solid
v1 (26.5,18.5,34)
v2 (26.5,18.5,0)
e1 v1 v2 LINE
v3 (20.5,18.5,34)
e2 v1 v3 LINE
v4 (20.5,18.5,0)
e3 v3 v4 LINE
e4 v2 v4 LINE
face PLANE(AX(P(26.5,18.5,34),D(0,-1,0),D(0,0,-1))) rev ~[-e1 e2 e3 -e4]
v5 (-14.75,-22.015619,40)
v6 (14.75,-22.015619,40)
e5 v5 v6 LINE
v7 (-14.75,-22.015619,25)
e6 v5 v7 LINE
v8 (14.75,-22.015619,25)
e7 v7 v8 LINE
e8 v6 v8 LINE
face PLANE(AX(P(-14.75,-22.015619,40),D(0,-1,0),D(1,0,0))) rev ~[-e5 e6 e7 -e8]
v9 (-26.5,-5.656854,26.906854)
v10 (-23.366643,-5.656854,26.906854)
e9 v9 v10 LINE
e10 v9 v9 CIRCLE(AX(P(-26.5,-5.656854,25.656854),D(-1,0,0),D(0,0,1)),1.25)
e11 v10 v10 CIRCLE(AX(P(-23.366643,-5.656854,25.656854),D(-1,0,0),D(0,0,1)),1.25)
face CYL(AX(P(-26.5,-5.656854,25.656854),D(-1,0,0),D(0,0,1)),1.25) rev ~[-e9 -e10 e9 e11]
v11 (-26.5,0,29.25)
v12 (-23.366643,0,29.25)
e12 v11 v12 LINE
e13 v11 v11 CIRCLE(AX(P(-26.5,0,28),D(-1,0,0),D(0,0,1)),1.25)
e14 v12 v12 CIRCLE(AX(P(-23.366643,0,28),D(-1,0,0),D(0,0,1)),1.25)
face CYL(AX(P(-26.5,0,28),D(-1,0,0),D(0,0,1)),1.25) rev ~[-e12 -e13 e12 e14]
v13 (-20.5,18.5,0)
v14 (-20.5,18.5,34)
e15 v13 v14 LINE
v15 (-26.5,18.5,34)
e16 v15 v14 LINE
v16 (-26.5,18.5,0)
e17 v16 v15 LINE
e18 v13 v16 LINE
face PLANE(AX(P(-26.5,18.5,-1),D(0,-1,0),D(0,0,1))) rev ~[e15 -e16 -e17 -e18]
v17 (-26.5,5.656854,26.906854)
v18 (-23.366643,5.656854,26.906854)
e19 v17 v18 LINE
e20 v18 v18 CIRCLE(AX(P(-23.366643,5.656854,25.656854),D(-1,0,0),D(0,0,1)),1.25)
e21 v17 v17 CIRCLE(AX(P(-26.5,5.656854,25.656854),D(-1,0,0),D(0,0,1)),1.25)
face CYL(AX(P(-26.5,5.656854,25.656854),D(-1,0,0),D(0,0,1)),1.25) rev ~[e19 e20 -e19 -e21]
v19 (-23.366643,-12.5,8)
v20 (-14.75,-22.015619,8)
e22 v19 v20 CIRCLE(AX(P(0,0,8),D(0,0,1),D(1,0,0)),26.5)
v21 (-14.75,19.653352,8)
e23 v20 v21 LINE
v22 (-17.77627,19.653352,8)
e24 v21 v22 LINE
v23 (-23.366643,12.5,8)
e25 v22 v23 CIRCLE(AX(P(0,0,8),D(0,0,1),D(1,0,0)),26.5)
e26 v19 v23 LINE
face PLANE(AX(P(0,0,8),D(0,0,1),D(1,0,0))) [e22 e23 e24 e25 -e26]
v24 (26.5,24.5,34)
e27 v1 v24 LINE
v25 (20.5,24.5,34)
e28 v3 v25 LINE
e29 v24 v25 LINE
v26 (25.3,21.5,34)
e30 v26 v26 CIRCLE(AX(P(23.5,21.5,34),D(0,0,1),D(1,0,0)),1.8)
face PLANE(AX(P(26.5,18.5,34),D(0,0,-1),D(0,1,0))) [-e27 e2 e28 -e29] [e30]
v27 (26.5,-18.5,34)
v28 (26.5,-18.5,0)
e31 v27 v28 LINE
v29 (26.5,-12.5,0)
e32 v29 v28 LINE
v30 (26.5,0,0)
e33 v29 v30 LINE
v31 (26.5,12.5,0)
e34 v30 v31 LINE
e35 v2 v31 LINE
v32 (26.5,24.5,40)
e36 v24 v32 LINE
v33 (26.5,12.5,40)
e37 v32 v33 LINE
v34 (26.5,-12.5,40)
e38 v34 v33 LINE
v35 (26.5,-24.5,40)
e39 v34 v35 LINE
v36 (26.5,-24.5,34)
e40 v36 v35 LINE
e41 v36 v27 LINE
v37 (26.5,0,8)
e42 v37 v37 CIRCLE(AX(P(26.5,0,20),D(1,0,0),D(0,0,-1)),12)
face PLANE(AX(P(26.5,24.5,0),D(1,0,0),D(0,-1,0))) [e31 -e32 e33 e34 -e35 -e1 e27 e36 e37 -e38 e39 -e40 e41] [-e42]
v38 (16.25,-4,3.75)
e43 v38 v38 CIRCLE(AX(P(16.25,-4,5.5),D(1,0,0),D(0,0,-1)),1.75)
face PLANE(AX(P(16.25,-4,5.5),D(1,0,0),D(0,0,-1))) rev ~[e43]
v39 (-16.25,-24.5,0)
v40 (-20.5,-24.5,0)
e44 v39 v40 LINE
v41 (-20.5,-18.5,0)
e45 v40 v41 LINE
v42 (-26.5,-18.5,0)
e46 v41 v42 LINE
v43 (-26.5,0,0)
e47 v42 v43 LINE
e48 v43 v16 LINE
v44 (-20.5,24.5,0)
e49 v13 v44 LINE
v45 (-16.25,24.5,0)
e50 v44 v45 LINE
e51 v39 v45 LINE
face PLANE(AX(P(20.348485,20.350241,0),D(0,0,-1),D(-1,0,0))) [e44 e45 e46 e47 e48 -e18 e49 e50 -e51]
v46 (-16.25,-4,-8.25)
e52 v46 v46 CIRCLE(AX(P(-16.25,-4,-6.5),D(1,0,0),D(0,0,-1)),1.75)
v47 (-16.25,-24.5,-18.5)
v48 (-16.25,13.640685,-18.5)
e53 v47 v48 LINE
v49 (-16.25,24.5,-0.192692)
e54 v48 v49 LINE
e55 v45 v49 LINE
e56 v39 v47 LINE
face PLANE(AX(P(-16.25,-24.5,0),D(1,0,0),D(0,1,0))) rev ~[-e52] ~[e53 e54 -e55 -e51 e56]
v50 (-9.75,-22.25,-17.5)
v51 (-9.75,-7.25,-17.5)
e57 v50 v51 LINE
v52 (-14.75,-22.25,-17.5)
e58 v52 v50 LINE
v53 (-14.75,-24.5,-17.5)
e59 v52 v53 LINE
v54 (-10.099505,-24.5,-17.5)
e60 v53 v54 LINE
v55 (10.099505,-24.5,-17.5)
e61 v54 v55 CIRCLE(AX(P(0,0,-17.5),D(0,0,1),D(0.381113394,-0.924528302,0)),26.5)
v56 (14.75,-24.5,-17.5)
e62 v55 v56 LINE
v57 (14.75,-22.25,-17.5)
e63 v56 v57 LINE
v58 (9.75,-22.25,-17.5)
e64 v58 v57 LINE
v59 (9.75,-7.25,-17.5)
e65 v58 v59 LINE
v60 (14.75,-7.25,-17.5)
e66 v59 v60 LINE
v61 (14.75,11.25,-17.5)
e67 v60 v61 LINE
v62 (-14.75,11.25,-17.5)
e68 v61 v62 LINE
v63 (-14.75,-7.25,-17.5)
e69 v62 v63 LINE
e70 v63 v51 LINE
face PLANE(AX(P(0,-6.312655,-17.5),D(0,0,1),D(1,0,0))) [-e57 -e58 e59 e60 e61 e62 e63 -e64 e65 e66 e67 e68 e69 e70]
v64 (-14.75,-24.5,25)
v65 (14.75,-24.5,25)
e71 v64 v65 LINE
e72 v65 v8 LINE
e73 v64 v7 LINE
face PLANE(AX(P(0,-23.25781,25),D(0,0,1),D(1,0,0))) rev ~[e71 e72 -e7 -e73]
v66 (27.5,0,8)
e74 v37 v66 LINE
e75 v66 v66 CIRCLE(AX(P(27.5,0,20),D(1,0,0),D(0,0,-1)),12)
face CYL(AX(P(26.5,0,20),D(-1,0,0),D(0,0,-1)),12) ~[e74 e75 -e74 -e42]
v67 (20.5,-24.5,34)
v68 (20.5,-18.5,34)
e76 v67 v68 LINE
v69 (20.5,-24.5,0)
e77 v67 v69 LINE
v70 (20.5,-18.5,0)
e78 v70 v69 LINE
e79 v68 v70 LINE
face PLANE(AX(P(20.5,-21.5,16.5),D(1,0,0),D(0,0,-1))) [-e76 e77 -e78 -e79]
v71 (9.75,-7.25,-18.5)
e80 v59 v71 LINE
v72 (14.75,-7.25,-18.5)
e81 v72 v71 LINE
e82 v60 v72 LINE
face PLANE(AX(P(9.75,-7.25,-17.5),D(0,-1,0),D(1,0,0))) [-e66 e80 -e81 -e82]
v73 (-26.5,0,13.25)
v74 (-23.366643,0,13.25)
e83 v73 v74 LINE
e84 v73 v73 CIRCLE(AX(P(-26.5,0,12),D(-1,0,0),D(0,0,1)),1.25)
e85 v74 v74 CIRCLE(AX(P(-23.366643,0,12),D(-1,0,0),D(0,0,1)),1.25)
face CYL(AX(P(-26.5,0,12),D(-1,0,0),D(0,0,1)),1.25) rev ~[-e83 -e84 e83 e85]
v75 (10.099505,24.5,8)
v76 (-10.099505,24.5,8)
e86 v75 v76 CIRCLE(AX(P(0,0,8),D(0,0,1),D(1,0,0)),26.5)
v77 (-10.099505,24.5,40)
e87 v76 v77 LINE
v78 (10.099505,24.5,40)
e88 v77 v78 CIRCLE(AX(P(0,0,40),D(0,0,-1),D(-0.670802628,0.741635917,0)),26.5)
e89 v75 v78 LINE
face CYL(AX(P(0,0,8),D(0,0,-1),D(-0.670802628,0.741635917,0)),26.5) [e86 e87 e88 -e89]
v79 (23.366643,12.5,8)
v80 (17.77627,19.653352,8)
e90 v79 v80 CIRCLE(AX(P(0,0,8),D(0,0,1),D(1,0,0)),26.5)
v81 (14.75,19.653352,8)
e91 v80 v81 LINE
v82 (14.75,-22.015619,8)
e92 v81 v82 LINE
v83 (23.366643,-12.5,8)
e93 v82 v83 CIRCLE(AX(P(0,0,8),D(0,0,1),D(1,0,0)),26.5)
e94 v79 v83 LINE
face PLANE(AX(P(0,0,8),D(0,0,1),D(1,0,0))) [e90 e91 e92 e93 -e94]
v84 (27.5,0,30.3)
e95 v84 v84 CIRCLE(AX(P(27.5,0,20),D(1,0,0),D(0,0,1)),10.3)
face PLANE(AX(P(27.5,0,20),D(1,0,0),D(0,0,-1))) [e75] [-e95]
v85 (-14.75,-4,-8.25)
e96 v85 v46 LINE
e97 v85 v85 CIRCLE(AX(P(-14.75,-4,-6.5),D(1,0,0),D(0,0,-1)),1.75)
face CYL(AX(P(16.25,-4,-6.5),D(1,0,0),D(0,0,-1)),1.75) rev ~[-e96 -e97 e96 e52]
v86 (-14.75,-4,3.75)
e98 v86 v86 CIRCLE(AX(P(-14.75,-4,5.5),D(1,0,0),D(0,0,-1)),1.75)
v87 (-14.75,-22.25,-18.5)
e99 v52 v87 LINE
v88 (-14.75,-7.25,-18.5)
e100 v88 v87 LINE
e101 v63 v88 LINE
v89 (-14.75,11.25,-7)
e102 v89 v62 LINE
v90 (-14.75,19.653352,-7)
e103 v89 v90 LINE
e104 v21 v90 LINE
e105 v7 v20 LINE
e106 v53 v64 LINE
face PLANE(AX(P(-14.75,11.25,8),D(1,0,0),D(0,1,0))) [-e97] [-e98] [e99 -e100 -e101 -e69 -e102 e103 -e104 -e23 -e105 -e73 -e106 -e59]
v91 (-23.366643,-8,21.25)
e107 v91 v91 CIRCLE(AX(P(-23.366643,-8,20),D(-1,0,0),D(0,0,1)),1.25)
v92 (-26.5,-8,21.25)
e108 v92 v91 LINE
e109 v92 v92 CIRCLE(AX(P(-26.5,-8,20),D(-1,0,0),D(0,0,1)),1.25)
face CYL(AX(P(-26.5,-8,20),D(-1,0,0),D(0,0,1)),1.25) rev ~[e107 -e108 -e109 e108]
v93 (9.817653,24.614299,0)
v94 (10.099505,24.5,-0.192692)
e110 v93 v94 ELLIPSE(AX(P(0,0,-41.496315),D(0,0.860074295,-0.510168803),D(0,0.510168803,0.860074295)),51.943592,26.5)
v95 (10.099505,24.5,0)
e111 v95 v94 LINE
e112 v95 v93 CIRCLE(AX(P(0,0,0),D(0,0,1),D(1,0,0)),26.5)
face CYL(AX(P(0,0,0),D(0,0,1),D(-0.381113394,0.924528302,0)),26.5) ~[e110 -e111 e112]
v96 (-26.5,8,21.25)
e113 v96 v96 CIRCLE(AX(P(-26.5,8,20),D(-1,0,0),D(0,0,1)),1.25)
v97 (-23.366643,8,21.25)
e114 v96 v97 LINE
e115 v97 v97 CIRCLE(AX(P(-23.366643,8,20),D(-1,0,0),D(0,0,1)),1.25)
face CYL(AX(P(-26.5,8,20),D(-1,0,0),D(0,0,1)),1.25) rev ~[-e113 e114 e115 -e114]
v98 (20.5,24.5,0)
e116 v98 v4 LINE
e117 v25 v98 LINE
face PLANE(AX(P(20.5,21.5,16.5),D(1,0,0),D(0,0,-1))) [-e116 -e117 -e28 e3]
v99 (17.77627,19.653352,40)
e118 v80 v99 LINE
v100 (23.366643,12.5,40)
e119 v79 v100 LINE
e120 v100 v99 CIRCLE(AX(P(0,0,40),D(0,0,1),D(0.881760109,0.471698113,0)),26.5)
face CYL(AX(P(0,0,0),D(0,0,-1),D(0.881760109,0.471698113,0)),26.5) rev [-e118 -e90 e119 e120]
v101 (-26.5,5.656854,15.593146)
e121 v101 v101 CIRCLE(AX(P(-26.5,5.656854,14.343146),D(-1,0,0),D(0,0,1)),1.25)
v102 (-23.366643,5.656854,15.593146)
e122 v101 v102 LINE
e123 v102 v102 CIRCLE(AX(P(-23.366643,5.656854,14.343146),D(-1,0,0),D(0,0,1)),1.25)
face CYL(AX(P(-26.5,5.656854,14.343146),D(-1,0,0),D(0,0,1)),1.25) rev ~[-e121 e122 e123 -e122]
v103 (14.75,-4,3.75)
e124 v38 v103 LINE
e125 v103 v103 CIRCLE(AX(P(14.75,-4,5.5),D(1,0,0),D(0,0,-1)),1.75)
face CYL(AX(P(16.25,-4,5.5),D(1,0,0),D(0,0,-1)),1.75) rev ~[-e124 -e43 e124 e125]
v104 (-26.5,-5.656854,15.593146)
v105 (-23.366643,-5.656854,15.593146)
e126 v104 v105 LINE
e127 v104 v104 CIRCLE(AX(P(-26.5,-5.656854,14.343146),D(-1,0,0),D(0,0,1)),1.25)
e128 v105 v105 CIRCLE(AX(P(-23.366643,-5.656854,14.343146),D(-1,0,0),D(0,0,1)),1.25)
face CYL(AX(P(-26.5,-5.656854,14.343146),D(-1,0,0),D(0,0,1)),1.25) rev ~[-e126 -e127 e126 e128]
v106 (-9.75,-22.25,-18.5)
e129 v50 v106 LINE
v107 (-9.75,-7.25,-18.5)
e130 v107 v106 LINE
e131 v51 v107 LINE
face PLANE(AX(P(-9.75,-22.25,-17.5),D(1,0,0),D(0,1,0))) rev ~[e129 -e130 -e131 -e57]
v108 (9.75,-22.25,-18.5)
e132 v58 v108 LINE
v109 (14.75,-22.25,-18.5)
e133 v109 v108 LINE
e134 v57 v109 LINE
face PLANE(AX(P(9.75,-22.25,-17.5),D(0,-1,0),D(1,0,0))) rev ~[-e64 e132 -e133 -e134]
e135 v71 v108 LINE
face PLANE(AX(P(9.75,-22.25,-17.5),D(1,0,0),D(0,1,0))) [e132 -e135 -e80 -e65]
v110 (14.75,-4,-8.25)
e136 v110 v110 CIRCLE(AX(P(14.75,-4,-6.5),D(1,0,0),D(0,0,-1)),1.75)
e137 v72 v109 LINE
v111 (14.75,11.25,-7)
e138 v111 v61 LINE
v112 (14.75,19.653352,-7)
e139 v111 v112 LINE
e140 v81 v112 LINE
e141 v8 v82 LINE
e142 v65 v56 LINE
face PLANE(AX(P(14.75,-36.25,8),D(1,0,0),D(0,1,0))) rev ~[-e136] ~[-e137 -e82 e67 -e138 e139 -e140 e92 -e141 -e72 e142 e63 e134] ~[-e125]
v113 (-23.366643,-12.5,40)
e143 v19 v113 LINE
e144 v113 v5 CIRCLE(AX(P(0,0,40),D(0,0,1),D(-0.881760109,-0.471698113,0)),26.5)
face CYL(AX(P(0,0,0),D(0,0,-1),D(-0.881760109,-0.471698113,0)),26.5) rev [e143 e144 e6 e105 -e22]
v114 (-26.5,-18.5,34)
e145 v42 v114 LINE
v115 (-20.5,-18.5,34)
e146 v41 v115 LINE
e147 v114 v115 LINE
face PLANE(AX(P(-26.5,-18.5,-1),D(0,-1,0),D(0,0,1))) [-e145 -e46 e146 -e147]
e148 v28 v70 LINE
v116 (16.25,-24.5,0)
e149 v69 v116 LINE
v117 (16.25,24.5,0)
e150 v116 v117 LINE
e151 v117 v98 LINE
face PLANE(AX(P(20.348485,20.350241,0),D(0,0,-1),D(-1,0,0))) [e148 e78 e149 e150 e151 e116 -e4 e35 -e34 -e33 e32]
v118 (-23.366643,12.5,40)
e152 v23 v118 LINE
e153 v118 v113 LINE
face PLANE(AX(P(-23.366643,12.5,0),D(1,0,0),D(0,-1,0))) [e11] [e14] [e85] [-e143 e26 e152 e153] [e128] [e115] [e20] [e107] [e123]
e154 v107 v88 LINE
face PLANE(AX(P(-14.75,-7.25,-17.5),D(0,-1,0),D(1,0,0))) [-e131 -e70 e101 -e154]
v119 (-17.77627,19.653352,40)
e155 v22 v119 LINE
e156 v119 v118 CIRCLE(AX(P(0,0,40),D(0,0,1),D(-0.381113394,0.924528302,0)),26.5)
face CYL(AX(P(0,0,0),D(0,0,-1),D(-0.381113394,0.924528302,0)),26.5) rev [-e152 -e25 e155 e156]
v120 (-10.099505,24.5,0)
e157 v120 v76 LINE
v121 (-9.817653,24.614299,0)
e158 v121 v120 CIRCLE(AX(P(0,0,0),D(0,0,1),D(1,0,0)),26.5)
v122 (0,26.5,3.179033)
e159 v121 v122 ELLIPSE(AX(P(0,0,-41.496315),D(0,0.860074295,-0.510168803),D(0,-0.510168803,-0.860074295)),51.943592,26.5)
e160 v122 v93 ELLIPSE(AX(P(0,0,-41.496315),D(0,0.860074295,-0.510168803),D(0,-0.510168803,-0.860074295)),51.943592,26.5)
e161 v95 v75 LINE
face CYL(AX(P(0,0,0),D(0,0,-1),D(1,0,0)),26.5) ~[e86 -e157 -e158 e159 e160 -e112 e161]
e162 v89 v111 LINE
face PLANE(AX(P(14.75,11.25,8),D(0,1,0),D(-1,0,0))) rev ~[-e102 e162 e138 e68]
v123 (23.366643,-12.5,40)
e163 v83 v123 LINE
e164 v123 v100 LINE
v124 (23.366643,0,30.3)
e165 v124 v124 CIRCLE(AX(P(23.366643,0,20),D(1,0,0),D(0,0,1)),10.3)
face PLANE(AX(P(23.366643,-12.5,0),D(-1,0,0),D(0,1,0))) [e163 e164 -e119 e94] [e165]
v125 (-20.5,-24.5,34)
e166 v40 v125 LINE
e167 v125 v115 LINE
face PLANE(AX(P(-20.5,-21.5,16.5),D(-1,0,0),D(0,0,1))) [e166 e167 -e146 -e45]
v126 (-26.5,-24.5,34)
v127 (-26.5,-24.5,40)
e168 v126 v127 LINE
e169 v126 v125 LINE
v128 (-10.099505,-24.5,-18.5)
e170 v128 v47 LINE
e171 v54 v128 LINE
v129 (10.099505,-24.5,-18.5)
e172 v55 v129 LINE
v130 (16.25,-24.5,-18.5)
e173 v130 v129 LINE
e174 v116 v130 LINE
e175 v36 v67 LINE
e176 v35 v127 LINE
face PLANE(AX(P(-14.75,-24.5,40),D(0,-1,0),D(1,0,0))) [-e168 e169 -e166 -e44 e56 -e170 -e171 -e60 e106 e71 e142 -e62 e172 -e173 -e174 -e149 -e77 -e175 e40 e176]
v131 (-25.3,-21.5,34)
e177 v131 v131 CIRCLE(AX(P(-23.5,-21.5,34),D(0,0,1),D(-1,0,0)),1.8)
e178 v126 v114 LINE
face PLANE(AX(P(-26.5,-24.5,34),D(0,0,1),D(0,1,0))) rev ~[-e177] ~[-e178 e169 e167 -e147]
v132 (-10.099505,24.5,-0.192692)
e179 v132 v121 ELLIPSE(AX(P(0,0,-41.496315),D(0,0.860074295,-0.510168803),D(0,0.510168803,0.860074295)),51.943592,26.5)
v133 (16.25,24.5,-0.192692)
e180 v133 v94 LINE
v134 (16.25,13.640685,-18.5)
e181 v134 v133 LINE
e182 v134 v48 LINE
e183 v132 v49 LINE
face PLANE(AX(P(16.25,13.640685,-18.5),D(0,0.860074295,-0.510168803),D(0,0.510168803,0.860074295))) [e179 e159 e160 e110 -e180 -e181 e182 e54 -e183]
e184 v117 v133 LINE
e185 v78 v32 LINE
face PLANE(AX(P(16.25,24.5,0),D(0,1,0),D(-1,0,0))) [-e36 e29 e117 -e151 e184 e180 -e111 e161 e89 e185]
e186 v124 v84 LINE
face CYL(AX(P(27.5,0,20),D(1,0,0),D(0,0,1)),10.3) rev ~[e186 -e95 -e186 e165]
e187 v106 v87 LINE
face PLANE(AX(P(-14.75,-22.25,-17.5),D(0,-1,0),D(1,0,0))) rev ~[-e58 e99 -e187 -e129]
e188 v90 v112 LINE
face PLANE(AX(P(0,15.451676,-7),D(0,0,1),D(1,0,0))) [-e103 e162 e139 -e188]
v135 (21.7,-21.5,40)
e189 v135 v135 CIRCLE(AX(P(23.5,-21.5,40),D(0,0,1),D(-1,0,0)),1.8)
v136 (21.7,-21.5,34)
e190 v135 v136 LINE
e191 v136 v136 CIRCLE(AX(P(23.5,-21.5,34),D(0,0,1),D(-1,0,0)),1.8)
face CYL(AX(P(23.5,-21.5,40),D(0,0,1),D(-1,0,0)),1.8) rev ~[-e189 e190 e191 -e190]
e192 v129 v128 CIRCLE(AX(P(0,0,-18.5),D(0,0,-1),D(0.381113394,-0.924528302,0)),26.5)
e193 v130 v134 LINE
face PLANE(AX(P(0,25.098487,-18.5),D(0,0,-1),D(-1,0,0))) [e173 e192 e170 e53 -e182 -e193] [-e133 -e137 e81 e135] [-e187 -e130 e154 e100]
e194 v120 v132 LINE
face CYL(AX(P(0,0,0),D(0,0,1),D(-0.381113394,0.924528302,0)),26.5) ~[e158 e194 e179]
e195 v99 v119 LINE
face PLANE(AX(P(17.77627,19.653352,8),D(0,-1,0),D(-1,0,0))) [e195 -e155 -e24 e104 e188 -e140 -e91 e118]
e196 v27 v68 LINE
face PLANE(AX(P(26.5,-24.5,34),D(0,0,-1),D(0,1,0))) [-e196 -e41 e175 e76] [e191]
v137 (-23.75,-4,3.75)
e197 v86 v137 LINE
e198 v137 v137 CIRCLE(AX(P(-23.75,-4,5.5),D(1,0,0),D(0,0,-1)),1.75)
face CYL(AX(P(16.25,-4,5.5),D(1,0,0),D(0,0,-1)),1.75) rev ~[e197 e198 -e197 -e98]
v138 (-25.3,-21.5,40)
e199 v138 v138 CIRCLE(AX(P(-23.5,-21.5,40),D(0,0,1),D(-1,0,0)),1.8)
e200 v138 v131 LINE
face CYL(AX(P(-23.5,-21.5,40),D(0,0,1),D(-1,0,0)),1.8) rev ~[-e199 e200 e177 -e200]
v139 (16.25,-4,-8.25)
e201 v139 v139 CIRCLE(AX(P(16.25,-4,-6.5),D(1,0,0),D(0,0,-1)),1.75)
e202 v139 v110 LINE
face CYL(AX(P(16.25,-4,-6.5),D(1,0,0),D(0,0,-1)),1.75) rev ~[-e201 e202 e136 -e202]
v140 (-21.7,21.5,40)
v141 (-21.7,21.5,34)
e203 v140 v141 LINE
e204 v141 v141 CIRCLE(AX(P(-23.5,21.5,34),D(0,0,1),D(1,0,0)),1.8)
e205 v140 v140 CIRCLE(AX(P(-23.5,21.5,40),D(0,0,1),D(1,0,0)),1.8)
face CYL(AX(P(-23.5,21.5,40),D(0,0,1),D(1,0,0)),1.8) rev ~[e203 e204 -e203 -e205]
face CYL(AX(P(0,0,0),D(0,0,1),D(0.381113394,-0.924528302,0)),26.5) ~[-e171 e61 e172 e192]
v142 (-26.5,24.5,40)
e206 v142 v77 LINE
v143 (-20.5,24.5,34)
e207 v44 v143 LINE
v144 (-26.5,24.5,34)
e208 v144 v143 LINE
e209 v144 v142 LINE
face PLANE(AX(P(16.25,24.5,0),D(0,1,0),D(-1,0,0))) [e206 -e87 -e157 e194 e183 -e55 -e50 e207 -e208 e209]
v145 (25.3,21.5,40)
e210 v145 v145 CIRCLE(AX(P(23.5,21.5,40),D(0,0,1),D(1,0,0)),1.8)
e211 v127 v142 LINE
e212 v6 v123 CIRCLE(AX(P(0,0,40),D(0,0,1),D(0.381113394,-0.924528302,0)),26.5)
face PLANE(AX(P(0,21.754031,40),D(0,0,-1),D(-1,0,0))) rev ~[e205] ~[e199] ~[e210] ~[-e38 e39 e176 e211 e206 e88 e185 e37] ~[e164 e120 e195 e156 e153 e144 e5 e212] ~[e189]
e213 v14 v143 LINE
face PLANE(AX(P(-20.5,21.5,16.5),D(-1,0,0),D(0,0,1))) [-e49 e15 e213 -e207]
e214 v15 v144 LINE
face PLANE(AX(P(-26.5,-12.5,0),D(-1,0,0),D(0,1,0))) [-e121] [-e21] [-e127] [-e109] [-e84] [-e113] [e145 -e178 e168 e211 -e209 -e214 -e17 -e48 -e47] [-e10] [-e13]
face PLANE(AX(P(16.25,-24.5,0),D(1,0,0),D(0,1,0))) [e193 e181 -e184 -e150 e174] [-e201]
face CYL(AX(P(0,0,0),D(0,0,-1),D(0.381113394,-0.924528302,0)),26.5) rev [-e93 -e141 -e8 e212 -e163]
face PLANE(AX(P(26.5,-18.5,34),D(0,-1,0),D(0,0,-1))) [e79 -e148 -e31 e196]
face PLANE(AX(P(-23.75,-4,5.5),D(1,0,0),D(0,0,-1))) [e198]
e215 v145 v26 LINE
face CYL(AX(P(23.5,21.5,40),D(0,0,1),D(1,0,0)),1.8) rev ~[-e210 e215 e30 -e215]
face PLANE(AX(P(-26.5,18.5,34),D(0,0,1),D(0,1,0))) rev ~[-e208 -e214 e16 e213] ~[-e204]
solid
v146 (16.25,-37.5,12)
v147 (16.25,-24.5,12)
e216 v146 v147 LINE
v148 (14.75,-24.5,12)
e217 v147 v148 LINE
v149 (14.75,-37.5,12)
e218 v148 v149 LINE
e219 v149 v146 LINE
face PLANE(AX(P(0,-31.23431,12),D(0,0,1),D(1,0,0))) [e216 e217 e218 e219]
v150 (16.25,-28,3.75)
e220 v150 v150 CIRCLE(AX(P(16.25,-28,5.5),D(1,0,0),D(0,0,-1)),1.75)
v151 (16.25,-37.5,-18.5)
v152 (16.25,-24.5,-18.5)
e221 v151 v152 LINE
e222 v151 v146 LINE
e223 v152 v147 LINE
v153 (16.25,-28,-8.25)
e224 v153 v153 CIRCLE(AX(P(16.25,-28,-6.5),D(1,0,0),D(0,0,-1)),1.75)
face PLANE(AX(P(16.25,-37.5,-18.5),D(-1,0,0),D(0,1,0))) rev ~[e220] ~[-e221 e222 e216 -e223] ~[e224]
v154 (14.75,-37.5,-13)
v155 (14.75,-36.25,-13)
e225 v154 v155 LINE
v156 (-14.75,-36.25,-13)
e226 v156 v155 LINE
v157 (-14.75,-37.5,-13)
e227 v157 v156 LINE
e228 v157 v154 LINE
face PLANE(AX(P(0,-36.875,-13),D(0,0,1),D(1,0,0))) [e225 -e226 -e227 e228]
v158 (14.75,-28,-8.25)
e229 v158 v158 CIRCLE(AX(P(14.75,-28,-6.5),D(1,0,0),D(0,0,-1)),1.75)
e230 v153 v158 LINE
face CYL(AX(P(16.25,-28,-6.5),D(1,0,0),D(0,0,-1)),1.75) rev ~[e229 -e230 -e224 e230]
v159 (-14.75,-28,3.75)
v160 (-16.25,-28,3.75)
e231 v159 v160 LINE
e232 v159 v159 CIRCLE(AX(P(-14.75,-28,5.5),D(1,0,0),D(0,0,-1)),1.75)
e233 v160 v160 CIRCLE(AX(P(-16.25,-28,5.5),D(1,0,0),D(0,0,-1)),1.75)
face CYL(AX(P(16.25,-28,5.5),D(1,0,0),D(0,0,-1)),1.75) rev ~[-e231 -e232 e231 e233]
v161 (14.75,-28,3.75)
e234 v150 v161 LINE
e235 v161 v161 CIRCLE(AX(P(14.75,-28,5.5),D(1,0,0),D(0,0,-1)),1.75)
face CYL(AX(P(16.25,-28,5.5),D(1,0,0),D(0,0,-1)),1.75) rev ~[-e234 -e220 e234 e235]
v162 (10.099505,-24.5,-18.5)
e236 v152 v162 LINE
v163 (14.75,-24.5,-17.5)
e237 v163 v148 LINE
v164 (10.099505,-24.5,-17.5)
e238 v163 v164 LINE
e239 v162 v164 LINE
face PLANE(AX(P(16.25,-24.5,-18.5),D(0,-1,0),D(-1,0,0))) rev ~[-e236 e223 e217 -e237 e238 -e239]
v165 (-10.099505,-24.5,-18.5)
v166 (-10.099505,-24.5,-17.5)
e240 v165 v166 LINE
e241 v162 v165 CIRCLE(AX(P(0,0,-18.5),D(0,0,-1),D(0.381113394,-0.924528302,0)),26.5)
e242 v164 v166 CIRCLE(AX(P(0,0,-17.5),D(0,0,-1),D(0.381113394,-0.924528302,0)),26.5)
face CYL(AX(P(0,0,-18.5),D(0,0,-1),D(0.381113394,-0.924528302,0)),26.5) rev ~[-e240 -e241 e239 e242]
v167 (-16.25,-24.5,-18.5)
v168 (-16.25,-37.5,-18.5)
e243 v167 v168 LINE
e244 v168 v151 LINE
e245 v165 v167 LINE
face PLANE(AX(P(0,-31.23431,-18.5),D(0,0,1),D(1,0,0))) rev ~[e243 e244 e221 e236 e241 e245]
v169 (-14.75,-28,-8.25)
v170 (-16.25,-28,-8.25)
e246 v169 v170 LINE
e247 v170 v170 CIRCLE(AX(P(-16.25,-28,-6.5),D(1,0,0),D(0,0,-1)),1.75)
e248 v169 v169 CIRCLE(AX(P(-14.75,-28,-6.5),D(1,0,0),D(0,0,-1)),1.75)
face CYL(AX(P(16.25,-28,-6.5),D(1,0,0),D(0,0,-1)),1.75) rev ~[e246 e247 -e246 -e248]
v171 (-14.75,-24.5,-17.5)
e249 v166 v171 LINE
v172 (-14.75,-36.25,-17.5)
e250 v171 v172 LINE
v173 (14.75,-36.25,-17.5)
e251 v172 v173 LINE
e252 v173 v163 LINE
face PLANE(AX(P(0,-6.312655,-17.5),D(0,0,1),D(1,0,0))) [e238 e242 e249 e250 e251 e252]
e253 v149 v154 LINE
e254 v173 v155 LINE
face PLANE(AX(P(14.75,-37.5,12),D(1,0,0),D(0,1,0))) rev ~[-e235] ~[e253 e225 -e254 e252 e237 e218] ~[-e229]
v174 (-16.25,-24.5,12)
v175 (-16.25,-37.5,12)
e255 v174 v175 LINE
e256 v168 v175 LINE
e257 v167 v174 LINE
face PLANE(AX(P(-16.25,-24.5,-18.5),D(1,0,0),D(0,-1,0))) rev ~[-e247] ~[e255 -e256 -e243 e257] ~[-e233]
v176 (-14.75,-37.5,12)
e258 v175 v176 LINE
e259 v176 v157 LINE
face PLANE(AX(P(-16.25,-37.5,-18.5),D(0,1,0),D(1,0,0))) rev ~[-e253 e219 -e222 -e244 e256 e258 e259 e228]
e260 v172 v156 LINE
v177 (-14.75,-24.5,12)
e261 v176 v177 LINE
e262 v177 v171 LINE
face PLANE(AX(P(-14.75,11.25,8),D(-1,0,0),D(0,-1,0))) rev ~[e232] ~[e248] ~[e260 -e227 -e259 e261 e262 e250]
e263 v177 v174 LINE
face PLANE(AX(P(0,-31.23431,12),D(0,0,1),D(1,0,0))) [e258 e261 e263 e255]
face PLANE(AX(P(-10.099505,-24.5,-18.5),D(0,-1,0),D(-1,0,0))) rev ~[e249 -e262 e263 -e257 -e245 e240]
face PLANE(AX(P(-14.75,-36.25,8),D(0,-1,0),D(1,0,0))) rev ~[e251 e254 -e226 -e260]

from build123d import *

# Parameters (mm, degrees)
SKETCH1_R                = 26.5
BOSS_EXTRUDE1_DEPTH      = 8
SKETCH2_W                = 3.133357109
SKETCH2_H                = 25
BOSS_EXTRUDE4_DEPTH      = 40
BOSS_EXTRUDE5_DEPTH      = 40
SKETCH4_W                = 32.5
SKETCH4_H                = 49
BOSS_EXTRUDE7_DEPTH      = 18.5
BOSS_EXTRUDE9_DEPTH      = 18.5
BOSS_EXTRUDE13_DEPTH     = 30.5
SKETCH8_R                = 2.637369172
CUT_EXTRUDE2_DEPTH       = 40
CUT_EXTRUDE2_DEPTH_BACK  = 25.5
SKETCH12_W               = 29.5
SKETCH12_H               = 2.484380545
BOSS_EXTRUDE14_DEPTH     = 15
SKETCH15_R               = 1.75
CUT_EXTRUDE3_DEPTH       = 40
SKETCH21_R               = 1.25
CUT_EXTRUDE10_DEPTH      = 7
BOSS_EXTRUDE16_DEPTH     = 32
SKETCH23_W               = 35
SKETCH23_H               = 6
CUT_EXTRUDE12_DEPTH      = 6
SKETCH24_W               = 35
SKETCH24_H               = 6
CUT_EXTRUDE13_DEPTH      = 6
SKETCH26_W               = 5
SKETCH26_H               = 15
CUT_EXTRUDE14_DEPTH      = 6
SKETCH27_R               = 1.8
CUT_EXTRUDE15_DEPTH      = 6
SKETCH18_R               = 10.3
CUT_EXTRUDE16_DEPTH      = 77.257786488
CUT_EXTRUDE16_DEPTH_BACK = 5
SKETCH28_W               = 29.5
SKETCH28_H               = 8.40335181
CUT_EXTRUDE17_DEPTH      = 15
SKETCH29_R               = 12
BOSS_EXTRUDE17_DEPTH     = 1
SKETCH30_R               = 10
CUT_EXTRUDE18_DEPTH      = 77.956156349
CUT_EXTRUDE18_DEPTH_BACK = 21
CUT_EXTRUDE19_DEPTH      = 70.525624772
SKETCH33_W               = 29.5
SKETCH33_H               = 1.25
CUT_EXTRUDE20_DEPTH      = 25
SKETCH34_R               = 10.3
CUT_EXTRUDE21_DEPTH      = 11


with BuildPart() as part:
    # Sketch1 → Boss-Extrude1 (new body)
    with BuildSketch(Plane.XY):
        Circle(SKETCH1_R)
    extrude(amount=BOSS_EXTRUDE1_DEPTH)

    # Sketch2 → Boss-Extrude4 (add)
    with BuildSketch(Plane(origin=(0, 0, 0), x_dir=(-1, 0, 0), z_dir=(0, 0, -1))):
        with BuildLine():
            ThreePointArc((26.5, 0), (25.704727548, 6.443367264), (23.366642891, 12.5))
            Line((23.366642891, 12.5), (23.366642891, -12.5))
            ThreePointArc((23.366642891, -12.5), (25.704727548, -6.443367264), (26.5, 0))
        make_face()
        with BuildLine():
            ThreePointArc((26.5, 0), (25.704727548, -6.443367264), (23.366642891, -12.5))
            Line((23.366642891, -12.5), (26.5, -12.5))
            Line((26.5, -12.5), (26.5, 0))
        make_face()
        with BuildLine():
            Line((26.5, 12.5), (23.366642891, 12.5))
            ThreePointArc((23.366642891, 12.5), (25.704727548, 6.443367264), (26.5, 0))
            Line((26.5, 0), (26.5, 12.5))
        make_face()
        with Locations((-24.933321445, 0)):
            Rectangle(SKETCH2_W, SKETCH2_H)
    extrude(amount=-BOSS_EXTRUDE4_DEPTH)

    # Sketch3 → Boss-Extrude5 (add)
    with BuildSketch(Plane(origin=(0, 0, 0), x_dir=(-1, 0, 0), z_dir=(0, 0, -1))):
        with BuildLine():
            Line((-26.5, 24.5), (-26.5, 12.5))
            Line((-26.5, 12.5), (-23.366642891, 12.5))
            ThreePointArc((-23.366642891, 12.5), (-17.776269649, 19.65335181), (-10.099504938, 24.5))
            Line((-10.099504938, 24.5), (-26.5, 24.5))
        make_face()
        with BuildLine():
            Line((-23.366642891, -12.5), (-26.5, -12.5))
            Line((-26.5, -12.5), (-26.5, -24.5))
            Line((-26.5, -24.5), (-10.099504938, -24.5))
            ThreePointArc((-10.099504938, -24.5), (-17.776269649, -19.65335181), (-23.366642891, -12.5))
        make_face()
        with BuildLine():
            Line((26.5, 24.5), (10.099504938, 24.5))
            ThreePointArc((10.099504938, 24.5), (17.776269649, 19.65335181), (23.366642891, 12.5))
            Line((23.366642891, 12.5), (26.5, 12.5))
            Line((26.5, 12.5), (26.5, 24.5))
        make_face()
        with BuildLine():
            ThreePointArc((23.366642891, -12.5), (17.776269649, -19.65335181), (10.099504938, -24.5))
            Line((10.099504938, -24.5), (26.5, -24.5))
            Line((26.5, -24.5), (26.5, -12.5))
            Line((26.5, -12.5), (23.366642891, -12.5))
        make_face()
    extrude(amount=-BOSS_EXTRUDE5_DEPTH)

    # Sketch4 → Boss-Extrude7 (add)
    with BuildSketch(Plane(origin=(0, 0, 0), x_dir=(-1, 0, 0), z_dir=(0, 0, -1))):
        Rectangle(SKETCH4_W, SKETCH4_H)
    extrude(amount=BOSS_EXTRUDE7_DEPTH)

    # Sketch7 → Boss-Extrude9 (add)
    with BuildSketch(Plane(origin=(0, 0, 0), x_dir=(-1, 0, 0), z_dir=(0, 0, -1))):
        with BuildLine():
            ThreePointArc((10.099504938, 24.5), (0, 26.5), (-10.099504938, 24.5))
            Line((-10.099504938, 24.5), (10.099504938, 24.5))
        make_face()
        with BuildLine():
            ThreePointArc((-10.099504938, -24.5), (0, -26.5), (10.099504938, -24.5))
            Line((10.099504938, -24.5), (-10.099504938, -24.5))
        make_face()
    extrude(amount=BOSS_EXTRUDE9_DEPTH)


with BuildPart() as body_2:
    # Sketch10 → Boss-Extrude13 (new body)
    with BuildSketch(Plane(origin=(0, 0, -18.5), x_dir=(-1, 0, 0), z_dir=(0, 0, -1))):
        with BuildLine():
            Line((16.25, -24.5), (16.25, -37.5))
            Line((16.25, -37.5), (-10.099504938, -37.5))
            Line((-10.099504938, -37.5), (-16.25, -37.5))
            Line((-16.25, -37.5), (-16.25, -24.5))
            Line((-16.25, -24.5), (-10.099504938, -24.5))
            ThreePointArc((-10.099504938, -24.5), (0, -26.5), (10.099504938, -24.5))
            Line((10.099504938, -24.5), (16.25, -24.5))
        make_face()
    extrude(amount=-BOSS_EXTRUDE13_DEPTH)


with BuildPart() as cut_extrude2_tool:
    # Sketch8 → Cut-Extrude2 (new, two sides)
    with BuildSketch(Plane.XY.offset(8)) as cut_extrude2_sk:
        with BuildLine():
            Line((-14.75, 11.25), (-14.75, -22.015619455))
            ThreePointArc((-14.75, -22.015619455), (-12.486693341, -23.373756425), (-10.099504938, -24.5))
            ThreePointArc((-10.099504938, -24.5), (0, -26.5), (10.099504938, -24.5))
            ThreePointArc((10.099504938, -24.5), (12.486693341, -23.373756425), (14.75, -22.015619455))
            Line((14.75, -22.015619455), (14.75, 11.25))
            Line((14.75, 11.25), (-14.75, 11.25))
        make_face()
        Circle(SKETCH8_R, mode=Mode.SUBTRACT)
        Circle(SKETCH8_R)
        with BuildLine():
            Line((-14.75, -22.015619455), (-14.75, -36.25))
            Line((-14.75, -36.25), (14.75, -36.25))
            Line((14.75, -36.25), (14.75, -22.015619455))
            ThreePointArc((14.75, -22.015619455), (12.486693341, -23.373756425), (10.099504938, -24.5))
            ThreePointArc((10.099504938, -24.5), (0, -26.5), (-10.099504938, -24.5))
            ThreePointArc((-10.099504938, -24.5), (-12.486693341, -23.373756425), (-14.75, -22.015619455))
        make_face()
    extrude(amount=CUT_EXTRUDE2_DEPTH)
    extrude(cut_extrude2_sk.sketch, amount=-CUT_EXTRUDE2_DEPTH_BACK)


with BuildPart() as part_1:
    add(part.part)

    # Cut-Extrude2: cut by cut_extrude2_tool
    add(cut_extrude2_tool.part, mode=Mode.SUBTRACT)

    # Sketch12 → Boss-Extrude14 (add)
    with BuildSketch(Plane.XY.offset(40)):
        with Locations((0, -23.257809728)):
            Rectangle(SKETCH12_W, SKETCH12_H)
    extrude(amount=-BOSS_EXTRUDE14_DEPTH)


with BuildPart() as body_2_1:
    add(body_2.part)

    # Cut-Extrude2: cut by cut_extrude2_tool
    add(cut_extrude2_tool.part, mode=Mode.SUBTRACT)


with BuildPart() as cut_extrude3_tool:
    # Sketch15 → Cut-Extrude3 (new body)
    with BuildSketch(Plane(origin=(16.25, 0, 0), x_dir=(0, 0, -1), z_dir=(1, 0, 0))):
        with Locations((6.5, -4)):
            Circle(SKETCH15_R)
        with Locations((-5.5, -4)):
            Circle(SKETCH15_R)
        with Locations((-5.5, -28)):
            Circle(SKETCH15_R)
        with Locations((6.5, -28)):
            Circle(SKETCH15_R)
    extrude(amount=-CUT_EXTRUDE3_DEPTH)


with BuildPart() as part_2:
    add(part_1.part)

    # Cut-Extrude3: cut by cut_extrude3_tool
    add(cut_extrude3_tool.part, mode=Mode.SUBTRACT)

    # Sketch21 → Cut-Extrude10 (cut)
    with BuildSketch(Plane.ZY.offset(26.5)):
        with Locations((25.656854249, -5.656854249)):
            Circle(SKETCH21_R)
        with Locations((20, 8)):
            Circle(SKETCH21_R)
        with Locations((20, -8)):
            Circle(SKETCH21_R)
        with Locations((14.343145751, -5.656854249)):
            Circle(SKETCH21_R)
        with Locations((12, 0)):
            Circle(SKETCH21_R)
        with Locations((14.343145751, 5.656854249)):
            Circle(SKETCH21_R)
        with Locations((25.656854249, 5.656854249)):
            Circle(SKETCH21_R)
        with Locations((28, 0)):
            Circle(SKETCH21_R)
    extrude(amount=-CUT_EXTRUDE10_DEPTH, mode=Mode.SUBTRACT)

    # Sketch22 → Boss-Extrude16 (add)
    with BuildSketch(Plane.XY.offset(8)):
        with BuildLine():
            Line((17.776269649, 19.65335181), (-17.776269649, 19.65335181))
            ThreePointArc((-17.776269649, 19.65335181), (0, 26.5), (17.776269649, 19.65335181))
        make_face()
    extrude(amount=BOSS_EXTRUDE16_DEPTH)

    # Sketch23 → Cut-Extrude12 (cut)
    with BuildSketch(Plane(origin=(26.5, 0, 0), x_dir=(0, 0, -1), z_dir=(1, 0, 0))):
        with Locations((-16.5, 21.5)):
            Rectangle(SKETCH23_W, SKETCH23_H)
        with Locations((-16.5, -21.5)):
            Rectangle(SKETCH23_W, SKETCH23_H)
    extrude(amount=-CUT_EXTRUDE12_DEPTH, mode=Mode.SUBTRACT)

    # Sketch24 → Cut-Extrude13 (cut)
    with BuildSketch(Plane.ZY.offset(26.5)):
        with Locations((16.5, -21.5)):
            Rectangle(SKETCH24_W, SKETCH24_H)
        with Locations((16.5, 21.5)):
            Rectangle(SKETCH24_W, SKETCH24_H)
    extrude(amount=-CUT_EXTRUDE13_DEPTH, mode=Mode.SUBTRACT)

    # Sketch26 → Cut-Extrude14 (cut)
    with BuildSketch(Plane.XY.offset(-17.5)):
        with Locations((12.25, -14.75)):
            Rectangle(SKETCH26_W, SKETCH26_H)
        with Locations((-12.25, -14.75)):
            Rectangle(SKETCH26_W, SKETCH26_H)
    extrude(amount=-CUT_EXTRUDE14_DEPTH, mode=Mode.SUBTRACT)

    # Sketch27 → Cut-Extrude15 (cut)
    with BuildSketch(Plane.XY.offset(40)):
        with Locations((-23.5, 21.5)):
            Circle(SKETCH27_R)
        with Locations((23.5, 21.5)):
            Circle(SKETCH27_R)
        with Locations(Location((23.5, -21.5, 0), (0, 0, 180))):
            Circle(SKETCH27_R)
        with Locations(Location((-23.5, -21.5, 0), (0, 0, 180))):
            Circle(SKETCH27_R)
    extrude(amount=-CUT_EXTRUDE15_DEPTH, mode=Mode.SUBTRACT)

    # Sketch18 → Cut-Extrude16 (cut, two sides)
    with BuildSketch(Plane(origin=(26.5, 0, 0), x_dir=(0, 0, -1), z_dir=(1, 0, 0))) as cut_extrude16_sk:
        with Locations(Location((-20, 0, 0), (0, 0, 180))):
            Circle(SKETCH18_R)
    extrude(amount=CUT_EXTRUDE16_DEPTH, mode=Mode.SUBTRACT)
    extrude(cut_extrude16_sk.sketch, amount=-CUT_EXTRUDE16_DEPTH_BACK, mode=Mode.SUBTRACT)

    # Sketch28 → Cut-Extrude17 (cut)
    with BuildSketch(Plane.XY.offset(8)):
        with Locations((0, 15.451675905)):
            Rectangle(SKETCH28_W, SKETCH28_H)
    extrude(amount=-CUT_EXTRUDE17_DEPTH, mode=Mode.SUBTRACT)

    # Sketch29 → Boss-Extrude17 (add)
    with BuildSketch(Plane(origin=(26.5, 0, 0), x_dir=(0, 0, -1), z_dir=(1, 0, 0))):
        with Locations((-20, 0)):
            Circle(SKETCH29_R)
    extrude(amount=BOSS_EXTRUDE17_DEPTH)

    # Sketch30 → Cut-Extrude18 (cut, two sides)
    with BuildSketch(Plane(origin=(27.5, 0, 0), x_dir=(0, 0, -1), z_dir=(1, 0, 0))) as cut_extrude18_sk:
        with Locations(Location((-20, 0, 0), (0, 0, 180))):
            Circle(SKETCH30_R)
    extrude(amount=CUT_EXTRUDE18_DEPTH, mode=Mode.SUBTRACT)
    extrude(cut_extrude18_sk.sketch, amount=-CUT_EXTRUDE18_DEPTH_BACK, mode=Mode.SUBTRACT)

    # Sketch32 → Cut-Extrude19 (cut, through all)
    with BuildSketch(Plane(origin=(16.25, 0, 0), x_dir=(0, 0, -1), z_dir=(1, 0, 0))):
        Polygon((18.5, 13.640685203), (-3.179032594, 26.5), (18.5, 26.5), align=None)
    extrude(amount=-CUT_EXTRUDE19_DEPTH, mode=Mode.SUBTRACT)

    # Sketch34 → Cut-Extrude21 (cut)
    with BuildSketch(Plane(origin=(27.5, 0, 0), x_dir=(0, 0, -1), z_dir=(1, 0, 0))):
        with Locations(Location((-20, 0, 0), (0, 0, 180))):
            Circle(SKETCH34_R)
    extrude(amount=-CUT_EXTRUDE21_DEPTH, mode=Mode.SUBTRACT)


with BuildPart() as body_2_2:
    add(body_2_1.part)

    # Cut-Extrude3: cut by cut_extrude3_tool
    add(cut_extrude3_tool.part, mode=Mode.SUBTRACT)

    # Sketch33 → Cut-Extrude20 (cut)
    with BuildSketch(Plane.XY.offset(12)):
        with Locations((0, -36.875)):
            Rectangle(SKETCH33_W, SKETCH33_H)
    extrude(amount=-CUT_EXTRUDE20_DEPTH, mode=Mode.SUBTRACT)


solid = Compound([part_2.part, body_2_2.part])
